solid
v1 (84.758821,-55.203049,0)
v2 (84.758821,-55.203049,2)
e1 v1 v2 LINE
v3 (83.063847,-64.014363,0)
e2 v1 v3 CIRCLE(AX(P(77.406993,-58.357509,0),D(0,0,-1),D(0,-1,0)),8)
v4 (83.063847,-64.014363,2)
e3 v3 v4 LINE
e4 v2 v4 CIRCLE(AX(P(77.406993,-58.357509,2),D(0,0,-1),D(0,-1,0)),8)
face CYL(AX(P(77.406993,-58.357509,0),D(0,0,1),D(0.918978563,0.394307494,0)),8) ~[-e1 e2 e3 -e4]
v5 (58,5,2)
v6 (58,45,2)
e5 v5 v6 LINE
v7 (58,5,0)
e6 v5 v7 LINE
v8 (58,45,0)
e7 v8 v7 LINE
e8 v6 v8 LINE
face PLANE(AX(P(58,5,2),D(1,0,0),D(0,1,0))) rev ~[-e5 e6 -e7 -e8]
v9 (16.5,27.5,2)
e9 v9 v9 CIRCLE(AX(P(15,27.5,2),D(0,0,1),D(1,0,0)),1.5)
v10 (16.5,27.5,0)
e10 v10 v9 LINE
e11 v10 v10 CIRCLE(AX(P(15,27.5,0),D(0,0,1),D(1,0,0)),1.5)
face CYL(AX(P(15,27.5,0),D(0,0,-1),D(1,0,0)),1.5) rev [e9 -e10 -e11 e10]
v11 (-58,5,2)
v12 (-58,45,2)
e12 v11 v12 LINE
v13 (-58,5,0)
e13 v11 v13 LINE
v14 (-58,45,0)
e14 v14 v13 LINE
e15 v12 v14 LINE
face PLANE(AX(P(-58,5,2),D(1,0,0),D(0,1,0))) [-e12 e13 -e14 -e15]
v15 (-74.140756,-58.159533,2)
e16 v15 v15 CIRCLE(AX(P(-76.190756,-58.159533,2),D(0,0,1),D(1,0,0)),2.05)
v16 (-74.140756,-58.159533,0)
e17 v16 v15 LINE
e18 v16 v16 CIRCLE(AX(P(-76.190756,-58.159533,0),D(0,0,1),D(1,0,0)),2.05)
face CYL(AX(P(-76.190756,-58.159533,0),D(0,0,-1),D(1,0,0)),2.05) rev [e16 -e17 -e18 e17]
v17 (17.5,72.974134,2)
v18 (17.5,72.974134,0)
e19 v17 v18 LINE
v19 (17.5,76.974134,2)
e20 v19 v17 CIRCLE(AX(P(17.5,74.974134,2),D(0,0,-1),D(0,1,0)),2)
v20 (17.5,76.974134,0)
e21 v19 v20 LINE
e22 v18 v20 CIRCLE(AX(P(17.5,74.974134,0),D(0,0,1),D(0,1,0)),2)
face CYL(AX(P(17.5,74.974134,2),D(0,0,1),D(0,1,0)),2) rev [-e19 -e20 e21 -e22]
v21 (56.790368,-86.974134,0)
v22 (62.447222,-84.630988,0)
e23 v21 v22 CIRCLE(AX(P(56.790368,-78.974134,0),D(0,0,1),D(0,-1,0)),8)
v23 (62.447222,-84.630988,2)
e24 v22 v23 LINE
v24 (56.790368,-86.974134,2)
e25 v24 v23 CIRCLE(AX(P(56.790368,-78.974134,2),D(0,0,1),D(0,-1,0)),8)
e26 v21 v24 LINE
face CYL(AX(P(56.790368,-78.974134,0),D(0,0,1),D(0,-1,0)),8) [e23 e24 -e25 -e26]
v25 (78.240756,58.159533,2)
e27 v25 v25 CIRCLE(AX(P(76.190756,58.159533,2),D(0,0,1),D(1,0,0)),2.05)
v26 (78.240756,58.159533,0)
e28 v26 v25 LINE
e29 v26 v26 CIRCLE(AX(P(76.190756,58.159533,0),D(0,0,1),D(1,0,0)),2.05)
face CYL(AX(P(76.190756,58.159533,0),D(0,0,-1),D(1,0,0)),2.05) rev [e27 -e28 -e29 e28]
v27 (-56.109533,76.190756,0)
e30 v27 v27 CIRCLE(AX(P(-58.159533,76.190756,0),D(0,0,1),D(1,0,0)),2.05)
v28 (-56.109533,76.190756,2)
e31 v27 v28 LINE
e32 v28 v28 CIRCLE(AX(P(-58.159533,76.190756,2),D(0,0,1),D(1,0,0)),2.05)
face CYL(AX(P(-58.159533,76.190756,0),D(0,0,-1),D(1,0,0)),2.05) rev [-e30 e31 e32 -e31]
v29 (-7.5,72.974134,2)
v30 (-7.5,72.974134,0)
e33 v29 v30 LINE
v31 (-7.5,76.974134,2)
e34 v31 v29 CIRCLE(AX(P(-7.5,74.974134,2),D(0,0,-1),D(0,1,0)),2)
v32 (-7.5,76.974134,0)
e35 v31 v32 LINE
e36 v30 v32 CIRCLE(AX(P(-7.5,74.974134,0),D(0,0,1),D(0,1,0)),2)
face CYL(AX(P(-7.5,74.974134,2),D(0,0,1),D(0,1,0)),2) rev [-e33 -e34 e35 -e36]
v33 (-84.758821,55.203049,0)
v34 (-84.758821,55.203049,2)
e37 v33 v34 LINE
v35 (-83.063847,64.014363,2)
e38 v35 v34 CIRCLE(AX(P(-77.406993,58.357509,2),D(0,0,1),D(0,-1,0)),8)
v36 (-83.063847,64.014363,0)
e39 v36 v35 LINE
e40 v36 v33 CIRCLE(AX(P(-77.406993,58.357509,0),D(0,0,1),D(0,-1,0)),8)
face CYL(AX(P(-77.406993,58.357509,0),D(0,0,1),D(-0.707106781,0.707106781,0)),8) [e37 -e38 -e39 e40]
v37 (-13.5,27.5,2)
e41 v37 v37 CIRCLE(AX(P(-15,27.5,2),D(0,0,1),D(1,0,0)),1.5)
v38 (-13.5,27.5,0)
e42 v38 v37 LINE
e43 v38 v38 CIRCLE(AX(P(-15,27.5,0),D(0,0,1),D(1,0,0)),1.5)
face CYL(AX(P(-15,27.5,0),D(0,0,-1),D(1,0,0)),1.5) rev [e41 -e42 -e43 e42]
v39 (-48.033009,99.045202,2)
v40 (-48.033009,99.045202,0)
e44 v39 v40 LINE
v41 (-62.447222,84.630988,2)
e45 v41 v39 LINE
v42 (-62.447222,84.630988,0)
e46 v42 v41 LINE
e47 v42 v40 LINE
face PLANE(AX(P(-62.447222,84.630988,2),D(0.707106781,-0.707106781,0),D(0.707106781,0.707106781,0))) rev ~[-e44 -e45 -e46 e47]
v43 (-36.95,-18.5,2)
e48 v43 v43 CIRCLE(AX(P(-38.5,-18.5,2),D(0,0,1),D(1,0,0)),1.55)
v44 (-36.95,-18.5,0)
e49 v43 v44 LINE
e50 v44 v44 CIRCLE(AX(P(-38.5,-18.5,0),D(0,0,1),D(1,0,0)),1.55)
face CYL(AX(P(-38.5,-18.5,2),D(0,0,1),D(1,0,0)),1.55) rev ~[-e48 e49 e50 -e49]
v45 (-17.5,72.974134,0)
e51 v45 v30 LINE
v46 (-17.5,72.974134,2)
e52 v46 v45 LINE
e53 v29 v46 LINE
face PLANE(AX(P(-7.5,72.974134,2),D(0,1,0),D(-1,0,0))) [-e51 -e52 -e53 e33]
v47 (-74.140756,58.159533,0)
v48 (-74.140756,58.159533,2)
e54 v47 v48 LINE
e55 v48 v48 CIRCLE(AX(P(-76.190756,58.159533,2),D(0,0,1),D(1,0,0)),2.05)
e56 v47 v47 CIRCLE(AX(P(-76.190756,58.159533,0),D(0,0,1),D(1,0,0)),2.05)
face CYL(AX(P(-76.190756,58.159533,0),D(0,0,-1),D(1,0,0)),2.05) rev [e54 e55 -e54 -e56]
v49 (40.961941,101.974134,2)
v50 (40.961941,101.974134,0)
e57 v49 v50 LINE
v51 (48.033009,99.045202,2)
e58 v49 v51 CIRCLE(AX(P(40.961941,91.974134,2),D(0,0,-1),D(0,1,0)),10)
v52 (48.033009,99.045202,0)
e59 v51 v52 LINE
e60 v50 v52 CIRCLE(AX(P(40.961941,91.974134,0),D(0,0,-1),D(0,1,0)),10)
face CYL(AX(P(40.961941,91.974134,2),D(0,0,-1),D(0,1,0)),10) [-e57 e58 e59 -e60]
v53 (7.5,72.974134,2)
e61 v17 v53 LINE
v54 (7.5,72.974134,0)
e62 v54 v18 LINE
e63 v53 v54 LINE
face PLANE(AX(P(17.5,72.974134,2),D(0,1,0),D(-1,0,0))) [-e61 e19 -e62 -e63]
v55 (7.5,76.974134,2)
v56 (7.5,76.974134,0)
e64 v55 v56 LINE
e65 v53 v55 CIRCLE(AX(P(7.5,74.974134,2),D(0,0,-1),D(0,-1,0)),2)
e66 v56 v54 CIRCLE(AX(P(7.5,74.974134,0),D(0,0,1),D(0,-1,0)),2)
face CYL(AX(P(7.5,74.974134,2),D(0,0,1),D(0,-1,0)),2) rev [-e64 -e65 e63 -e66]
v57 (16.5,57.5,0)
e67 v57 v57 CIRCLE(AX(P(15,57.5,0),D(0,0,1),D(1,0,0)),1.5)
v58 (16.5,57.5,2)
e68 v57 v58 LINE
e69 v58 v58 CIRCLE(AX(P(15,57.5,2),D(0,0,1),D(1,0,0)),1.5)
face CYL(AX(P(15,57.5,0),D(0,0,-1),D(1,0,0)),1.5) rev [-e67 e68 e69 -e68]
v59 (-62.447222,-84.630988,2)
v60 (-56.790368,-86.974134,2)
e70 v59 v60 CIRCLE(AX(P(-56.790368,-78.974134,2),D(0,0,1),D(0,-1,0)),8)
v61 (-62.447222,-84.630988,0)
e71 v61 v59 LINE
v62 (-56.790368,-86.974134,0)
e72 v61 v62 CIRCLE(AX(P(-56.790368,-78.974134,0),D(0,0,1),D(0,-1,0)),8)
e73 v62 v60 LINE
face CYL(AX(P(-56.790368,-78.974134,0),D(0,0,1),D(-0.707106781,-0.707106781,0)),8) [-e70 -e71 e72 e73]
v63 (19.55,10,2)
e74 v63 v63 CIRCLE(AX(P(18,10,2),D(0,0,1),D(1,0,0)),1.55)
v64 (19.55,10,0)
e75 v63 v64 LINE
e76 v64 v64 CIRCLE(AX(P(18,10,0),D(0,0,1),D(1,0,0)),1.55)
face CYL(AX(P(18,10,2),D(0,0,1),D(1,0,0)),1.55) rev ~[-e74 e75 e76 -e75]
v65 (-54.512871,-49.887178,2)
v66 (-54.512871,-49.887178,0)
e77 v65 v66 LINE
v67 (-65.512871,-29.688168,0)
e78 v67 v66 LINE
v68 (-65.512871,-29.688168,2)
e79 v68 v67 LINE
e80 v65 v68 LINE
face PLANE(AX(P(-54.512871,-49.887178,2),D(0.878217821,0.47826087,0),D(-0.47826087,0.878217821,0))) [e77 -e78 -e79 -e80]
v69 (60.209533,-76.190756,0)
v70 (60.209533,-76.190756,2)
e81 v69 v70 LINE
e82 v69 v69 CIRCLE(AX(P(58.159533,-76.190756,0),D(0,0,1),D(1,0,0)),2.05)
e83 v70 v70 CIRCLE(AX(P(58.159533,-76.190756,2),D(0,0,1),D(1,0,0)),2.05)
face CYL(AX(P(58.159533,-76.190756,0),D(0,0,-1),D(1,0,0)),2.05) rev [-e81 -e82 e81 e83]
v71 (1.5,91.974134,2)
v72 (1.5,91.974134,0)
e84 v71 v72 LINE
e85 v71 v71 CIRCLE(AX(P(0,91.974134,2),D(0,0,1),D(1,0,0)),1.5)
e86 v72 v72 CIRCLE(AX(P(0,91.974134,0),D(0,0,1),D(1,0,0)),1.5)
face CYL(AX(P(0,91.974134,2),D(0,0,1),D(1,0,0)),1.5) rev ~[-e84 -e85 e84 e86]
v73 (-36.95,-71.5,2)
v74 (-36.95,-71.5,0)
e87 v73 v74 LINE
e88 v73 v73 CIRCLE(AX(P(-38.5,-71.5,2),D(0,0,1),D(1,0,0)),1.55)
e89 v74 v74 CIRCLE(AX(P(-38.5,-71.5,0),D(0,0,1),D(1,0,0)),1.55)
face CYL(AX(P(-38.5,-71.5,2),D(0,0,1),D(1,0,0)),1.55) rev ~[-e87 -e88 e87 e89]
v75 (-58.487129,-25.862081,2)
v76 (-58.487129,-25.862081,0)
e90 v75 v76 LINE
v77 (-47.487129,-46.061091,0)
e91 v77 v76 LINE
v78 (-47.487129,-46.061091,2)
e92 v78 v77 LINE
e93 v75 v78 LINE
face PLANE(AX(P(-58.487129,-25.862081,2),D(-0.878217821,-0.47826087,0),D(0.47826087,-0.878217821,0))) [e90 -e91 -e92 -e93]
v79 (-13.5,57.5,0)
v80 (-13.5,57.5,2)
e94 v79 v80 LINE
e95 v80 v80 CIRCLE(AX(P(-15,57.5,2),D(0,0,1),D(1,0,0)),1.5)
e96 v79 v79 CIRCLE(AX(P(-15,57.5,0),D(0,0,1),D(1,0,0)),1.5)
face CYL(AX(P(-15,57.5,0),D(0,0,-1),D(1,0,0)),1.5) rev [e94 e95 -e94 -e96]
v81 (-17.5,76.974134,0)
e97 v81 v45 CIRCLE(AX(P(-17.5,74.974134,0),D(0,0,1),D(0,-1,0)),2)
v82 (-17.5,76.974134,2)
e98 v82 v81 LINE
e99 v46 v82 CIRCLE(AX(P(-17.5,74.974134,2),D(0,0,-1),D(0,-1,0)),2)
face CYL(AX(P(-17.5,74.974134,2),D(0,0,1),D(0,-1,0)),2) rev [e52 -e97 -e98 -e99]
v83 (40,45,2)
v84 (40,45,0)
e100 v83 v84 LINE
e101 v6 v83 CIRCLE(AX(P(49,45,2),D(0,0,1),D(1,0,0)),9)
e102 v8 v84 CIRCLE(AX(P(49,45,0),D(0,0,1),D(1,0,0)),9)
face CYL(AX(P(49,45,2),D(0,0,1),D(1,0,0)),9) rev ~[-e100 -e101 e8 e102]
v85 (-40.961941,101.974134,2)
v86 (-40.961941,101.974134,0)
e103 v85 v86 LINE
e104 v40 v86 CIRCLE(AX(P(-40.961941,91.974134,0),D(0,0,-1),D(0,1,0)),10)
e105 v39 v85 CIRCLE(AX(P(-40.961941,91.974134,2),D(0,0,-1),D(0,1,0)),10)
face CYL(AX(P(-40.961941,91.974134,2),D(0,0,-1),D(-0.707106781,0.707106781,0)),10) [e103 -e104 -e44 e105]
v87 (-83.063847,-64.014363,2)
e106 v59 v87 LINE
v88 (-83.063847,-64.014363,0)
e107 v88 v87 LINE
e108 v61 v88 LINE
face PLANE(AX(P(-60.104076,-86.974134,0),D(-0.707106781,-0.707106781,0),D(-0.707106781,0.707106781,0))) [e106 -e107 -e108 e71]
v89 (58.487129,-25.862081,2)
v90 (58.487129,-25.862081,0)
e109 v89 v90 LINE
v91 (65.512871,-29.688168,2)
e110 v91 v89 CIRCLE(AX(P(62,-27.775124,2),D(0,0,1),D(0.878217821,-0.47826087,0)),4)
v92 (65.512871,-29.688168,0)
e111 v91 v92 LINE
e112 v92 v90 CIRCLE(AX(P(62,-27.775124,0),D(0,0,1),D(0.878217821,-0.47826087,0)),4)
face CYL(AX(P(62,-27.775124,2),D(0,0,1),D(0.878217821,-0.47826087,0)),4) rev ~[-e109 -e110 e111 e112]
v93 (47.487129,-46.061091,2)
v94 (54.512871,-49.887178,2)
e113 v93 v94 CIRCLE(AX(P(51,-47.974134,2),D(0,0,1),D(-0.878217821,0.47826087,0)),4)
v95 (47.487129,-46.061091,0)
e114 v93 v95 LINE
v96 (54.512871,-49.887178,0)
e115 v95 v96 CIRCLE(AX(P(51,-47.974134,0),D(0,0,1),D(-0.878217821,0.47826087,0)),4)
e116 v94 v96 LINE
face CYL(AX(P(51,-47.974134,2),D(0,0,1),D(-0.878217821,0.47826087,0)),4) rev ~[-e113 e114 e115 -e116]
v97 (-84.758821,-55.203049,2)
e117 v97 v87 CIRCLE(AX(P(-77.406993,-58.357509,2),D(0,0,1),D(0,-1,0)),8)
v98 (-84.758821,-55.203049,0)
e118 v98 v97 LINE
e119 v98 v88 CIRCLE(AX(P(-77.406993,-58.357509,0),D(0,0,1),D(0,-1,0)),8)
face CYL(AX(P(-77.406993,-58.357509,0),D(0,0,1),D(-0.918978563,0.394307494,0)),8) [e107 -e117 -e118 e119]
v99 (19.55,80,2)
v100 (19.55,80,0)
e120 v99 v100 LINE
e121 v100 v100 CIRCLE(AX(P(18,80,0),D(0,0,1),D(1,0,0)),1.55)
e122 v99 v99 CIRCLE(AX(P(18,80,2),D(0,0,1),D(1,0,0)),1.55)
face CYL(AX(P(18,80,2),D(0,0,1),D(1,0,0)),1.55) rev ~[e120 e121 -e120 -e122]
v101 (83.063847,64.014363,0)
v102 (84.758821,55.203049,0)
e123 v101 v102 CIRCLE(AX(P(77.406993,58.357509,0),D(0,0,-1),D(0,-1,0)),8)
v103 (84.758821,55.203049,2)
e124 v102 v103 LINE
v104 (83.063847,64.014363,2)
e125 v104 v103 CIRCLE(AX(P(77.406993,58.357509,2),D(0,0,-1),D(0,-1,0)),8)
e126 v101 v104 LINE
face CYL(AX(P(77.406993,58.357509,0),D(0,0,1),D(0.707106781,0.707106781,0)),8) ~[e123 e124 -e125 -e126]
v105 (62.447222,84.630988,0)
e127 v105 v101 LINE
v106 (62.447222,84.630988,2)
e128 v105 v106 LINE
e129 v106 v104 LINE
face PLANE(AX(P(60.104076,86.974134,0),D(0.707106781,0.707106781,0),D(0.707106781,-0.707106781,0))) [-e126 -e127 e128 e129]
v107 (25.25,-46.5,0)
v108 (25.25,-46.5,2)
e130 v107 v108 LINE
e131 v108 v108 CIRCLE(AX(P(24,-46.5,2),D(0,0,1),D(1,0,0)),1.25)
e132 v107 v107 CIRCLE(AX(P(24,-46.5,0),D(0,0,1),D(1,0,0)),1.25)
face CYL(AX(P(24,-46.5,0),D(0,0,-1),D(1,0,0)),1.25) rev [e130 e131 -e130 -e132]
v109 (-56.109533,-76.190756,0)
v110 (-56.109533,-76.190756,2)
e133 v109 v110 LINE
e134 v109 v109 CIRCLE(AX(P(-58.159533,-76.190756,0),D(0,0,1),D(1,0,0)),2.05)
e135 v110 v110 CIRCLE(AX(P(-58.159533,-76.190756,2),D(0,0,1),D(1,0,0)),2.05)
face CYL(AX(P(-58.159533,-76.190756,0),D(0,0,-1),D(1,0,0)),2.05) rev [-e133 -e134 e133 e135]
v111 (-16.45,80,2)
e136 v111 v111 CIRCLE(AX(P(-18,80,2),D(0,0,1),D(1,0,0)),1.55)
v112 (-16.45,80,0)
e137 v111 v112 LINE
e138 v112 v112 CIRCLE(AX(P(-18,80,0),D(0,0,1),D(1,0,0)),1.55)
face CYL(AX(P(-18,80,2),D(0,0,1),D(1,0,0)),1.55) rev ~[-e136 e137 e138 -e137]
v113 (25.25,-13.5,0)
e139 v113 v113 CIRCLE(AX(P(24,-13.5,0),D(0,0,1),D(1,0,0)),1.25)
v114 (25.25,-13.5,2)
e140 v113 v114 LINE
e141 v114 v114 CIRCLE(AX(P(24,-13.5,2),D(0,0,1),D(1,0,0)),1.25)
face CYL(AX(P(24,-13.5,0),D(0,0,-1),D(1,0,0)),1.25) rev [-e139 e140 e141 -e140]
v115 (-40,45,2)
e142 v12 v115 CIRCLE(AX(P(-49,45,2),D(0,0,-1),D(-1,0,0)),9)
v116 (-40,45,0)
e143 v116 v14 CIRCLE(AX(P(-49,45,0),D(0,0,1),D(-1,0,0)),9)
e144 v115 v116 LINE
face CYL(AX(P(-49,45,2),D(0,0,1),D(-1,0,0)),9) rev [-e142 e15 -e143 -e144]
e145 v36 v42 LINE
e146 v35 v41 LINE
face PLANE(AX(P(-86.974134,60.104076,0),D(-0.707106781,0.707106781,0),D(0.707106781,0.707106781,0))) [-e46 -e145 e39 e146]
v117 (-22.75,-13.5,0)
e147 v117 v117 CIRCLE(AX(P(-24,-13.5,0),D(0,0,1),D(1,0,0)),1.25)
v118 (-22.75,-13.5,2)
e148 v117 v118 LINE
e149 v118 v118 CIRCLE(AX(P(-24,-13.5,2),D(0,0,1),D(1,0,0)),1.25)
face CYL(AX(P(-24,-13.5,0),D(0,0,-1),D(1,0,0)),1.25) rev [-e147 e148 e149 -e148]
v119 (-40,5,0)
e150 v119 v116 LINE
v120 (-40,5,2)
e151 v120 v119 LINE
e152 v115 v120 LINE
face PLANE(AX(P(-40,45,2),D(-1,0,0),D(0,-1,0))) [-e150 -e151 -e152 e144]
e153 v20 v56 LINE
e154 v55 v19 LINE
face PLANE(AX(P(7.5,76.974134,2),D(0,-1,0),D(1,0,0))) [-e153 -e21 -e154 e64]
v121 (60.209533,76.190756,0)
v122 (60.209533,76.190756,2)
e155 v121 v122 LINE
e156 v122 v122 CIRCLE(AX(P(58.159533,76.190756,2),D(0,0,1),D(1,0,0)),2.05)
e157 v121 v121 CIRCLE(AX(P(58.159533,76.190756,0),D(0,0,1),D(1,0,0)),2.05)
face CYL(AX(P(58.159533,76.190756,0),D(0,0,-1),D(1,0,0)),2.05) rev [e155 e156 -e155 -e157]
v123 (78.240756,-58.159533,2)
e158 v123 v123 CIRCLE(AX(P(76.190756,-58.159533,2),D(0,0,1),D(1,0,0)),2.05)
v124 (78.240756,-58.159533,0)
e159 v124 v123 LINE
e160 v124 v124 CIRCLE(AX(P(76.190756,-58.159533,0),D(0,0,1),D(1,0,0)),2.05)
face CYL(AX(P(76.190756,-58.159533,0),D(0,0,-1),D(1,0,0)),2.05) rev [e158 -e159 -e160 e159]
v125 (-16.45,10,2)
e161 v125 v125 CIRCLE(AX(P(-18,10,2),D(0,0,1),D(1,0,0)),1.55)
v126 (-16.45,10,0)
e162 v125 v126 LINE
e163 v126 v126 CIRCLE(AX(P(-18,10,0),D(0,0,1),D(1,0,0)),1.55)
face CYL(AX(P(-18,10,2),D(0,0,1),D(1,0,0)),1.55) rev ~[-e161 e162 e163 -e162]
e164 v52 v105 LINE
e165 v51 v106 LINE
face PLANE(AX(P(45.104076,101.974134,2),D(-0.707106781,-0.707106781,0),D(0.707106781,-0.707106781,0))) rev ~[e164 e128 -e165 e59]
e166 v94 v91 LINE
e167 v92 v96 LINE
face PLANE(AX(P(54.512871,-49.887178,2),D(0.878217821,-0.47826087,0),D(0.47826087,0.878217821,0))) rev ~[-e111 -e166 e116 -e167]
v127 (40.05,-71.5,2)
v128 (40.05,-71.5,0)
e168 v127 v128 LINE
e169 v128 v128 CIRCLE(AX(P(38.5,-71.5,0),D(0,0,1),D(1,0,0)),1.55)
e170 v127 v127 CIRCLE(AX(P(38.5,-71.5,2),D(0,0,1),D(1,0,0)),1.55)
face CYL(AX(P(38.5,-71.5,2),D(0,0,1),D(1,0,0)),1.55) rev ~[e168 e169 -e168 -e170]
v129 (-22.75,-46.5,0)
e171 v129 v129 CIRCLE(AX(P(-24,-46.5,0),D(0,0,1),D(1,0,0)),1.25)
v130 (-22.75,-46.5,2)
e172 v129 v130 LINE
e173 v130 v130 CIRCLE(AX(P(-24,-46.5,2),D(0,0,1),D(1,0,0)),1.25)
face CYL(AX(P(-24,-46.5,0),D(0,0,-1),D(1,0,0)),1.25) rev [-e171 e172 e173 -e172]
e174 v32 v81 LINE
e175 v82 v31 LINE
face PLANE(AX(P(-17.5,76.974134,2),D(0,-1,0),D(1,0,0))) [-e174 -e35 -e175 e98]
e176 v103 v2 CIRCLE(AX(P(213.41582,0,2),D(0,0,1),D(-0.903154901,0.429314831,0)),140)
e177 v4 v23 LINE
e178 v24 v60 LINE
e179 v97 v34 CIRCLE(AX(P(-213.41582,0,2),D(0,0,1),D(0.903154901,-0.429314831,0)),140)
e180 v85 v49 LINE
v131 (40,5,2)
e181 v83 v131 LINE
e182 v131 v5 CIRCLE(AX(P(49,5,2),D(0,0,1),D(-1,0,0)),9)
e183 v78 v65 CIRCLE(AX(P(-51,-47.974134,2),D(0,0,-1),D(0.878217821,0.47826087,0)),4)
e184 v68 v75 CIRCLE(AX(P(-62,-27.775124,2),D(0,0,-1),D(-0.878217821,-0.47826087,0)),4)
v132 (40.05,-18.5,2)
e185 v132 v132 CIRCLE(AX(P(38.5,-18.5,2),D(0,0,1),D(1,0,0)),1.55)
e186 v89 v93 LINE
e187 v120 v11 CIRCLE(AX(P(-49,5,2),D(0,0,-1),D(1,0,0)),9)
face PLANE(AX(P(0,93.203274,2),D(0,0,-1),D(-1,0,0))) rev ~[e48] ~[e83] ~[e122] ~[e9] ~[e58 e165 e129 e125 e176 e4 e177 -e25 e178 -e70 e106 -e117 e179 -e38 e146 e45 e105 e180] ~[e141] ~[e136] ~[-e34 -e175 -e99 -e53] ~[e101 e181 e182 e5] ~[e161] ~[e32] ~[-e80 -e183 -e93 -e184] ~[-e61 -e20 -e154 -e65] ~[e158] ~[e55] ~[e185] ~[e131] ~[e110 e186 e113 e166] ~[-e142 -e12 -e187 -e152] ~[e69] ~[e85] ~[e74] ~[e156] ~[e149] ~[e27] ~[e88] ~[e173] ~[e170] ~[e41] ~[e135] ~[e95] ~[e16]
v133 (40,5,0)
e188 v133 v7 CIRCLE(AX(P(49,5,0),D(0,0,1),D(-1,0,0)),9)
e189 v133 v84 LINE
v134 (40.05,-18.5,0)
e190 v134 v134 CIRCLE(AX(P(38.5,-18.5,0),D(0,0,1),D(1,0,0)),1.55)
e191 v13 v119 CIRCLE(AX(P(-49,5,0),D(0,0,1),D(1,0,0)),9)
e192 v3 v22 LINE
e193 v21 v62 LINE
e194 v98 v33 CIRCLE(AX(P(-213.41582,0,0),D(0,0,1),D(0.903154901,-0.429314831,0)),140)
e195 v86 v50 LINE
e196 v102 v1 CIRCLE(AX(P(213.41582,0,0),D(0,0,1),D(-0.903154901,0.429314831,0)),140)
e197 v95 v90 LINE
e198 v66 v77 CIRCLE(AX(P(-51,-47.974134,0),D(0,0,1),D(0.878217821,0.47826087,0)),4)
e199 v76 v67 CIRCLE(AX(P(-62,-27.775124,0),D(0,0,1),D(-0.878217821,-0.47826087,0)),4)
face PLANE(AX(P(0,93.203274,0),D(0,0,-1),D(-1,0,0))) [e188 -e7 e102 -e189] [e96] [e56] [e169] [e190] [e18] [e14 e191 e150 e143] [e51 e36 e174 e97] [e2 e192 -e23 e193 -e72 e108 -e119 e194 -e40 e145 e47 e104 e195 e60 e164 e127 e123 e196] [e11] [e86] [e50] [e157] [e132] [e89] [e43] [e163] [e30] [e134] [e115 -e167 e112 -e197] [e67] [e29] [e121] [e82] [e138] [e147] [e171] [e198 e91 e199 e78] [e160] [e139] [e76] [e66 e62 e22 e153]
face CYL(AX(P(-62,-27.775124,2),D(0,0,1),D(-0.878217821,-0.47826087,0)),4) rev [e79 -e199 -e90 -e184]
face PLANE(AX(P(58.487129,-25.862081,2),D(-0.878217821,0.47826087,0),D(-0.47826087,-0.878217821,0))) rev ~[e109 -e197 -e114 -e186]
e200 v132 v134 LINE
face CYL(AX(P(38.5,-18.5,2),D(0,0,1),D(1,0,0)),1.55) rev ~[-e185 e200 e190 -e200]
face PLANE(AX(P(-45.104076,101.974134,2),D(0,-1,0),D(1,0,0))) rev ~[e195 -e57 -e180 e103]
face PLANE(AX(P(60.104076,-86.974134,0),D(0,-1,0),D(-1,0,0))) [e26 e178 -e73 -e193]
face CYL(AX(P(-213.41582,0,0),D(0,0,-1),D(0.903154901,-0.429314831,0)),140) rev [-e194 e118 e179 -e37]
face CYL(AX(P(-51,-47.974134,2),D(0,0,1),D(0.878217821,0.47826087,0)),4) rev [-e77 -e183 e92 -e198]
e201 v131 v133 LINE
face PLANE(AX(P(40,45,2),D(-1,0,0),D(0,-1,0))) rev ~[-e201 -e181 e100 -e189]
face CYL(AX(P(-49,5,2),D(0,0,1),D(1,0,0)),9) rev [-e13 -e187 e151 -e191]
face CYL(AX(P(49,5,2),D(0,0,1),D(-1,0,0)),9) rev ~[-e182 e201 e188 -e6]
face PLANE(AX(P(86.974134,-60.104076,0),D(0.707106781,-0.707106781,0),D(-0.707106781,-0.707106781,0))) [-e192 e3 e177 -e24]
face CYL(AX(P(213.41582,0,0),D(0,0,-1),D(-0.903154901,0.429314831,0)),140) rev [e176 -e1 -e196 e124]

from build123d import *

# Parameters (mm, degrees)
SKETCH1_R           = 1.5
SKETCH1_R_2         = 1.25
SKETCH1_R_3         = 2.05
BOSS_EXTRUDE1_DEPTH = 2
FILLET7_R           = 8
BOSS_EXTRUDE2_DEPTH = 2
FILLET8_R           = 10
SKETCH4_R           = 1.55
CUT_EXTRUDE1_DEPTH  = 2
SKETCH5_R           = 1.55
CUT_EXTRUDE2_DEPTH  = 2
CUT_EXTRUDE3_DEPTH  = 10
SKETCH7_R           = 1.5
CUT_EXTRUDE4_DEPTH  = 10


with BuildPart() as part:
    # Sketch1 → Boss-Extrude1 (new body)
    with BuildSketch(Plane.XY):
        with BuildLine():
            Line((-86.974134086, 60.104076401), (-60.104076401, 86.974134086))
            Line((-60.104076401, 86.974134086), (60.104076401, 86.974134086))
            Line((60.104076401, 86.974134086), (86.974134086, 60.104076401))
            ThreePointArc((86.974134086, 60.104076401), (73.41582025, 0), (86.974134086, -60.104076401))
            Line((86.974134086, -60.104076401), (60.104076401, -86.974134086))
            Line((60.104076401, -86.974134086), (-60.104076401, -86.974134086))
            Line((-60.104076401, -86.974134086), (-86.974134086, -60.104076401))
            ThreePointArc((-86.974134086, -60.104076401), (-73.41582025, 0), (-86.974134086, 60.104076401))
        make_face()
        with Locations((-15, 57.5)):
            Circle(SKETCH1_R, mode=Mode.SUBTRACT)
        with Locations((-15, 27.5)):
            Circle(SKETCH1_R, mode=Mode.SUBTRACT)
        with Locations((15, 27.5)):
            Circle(SKETCH1_R, mode=Mode.SUBTRACT)
        with Locations((15, 57.5)):
            Circle(SKETCH1_R, mode=Mode.SUBTRACT)
        with Locations((-24, -13.5)):
            Circle(SKETCH1_R_2, mode=Mode.SUBTRACT)
        with Locations((24, -13.5)):
            Circle(SKETCH1_R_2, mode=Mode.SUBTRACT)
        with Locations((24, -46.5)):
            Circle(SKETCH1_R_2, mode=Mode.SUBTRACT)
        with Locations((-24, -46.5)):
            Circle(SKETCH1_R_2, mode=Mode.SUBTRACT)
        with Locations((-76.190755673, 58.159532753)):
            Circle(SKETCH1_R_3, mode=Mode.SUBTRACT)
        with Locations((-58.159532753, 76.190755673)):
            Circle(SKETCH1_R_3, mode=Mode.SUBTRACT)
        with Locations((76.190755673, -58.159532753)):
            Circle(SKETCH1_R_3, mode=Mode.SUBTRACT)
        with Locations((58.159532753, -76.190755673)):
            Circle(SKETCH1_R_3, mode=Mode.SUBTRACT)
        with Locations((-58.159532753, -76.190755673)):
            Circle(SKETCH1_R_3, mode=Mode.SUBTRACT)
        with Locations((-76.190755673, -58.159532753)):
            Circle(SKETCH1_R_3, mode=Mode.SUBTRACT)
        with Locations((58.159532753, 76.190755673)):
            Circle(SKETCH1_R_3, mode=Mode.SUBTRACT)
        with Locations((76.190755673, 58.159532753)):
            Circle(SKETCH1_R_3, mode=Mode.SUBTRACT)
    extrude(amount=BOSS_EXTRUDE1_DEPTH)

    # Fillet7
    fillet7_edges = [part.edges().sort_by_distance(p)[0] for p in [
        (86.974134086, -60.104076401, 1),
        (60.104076401, -86.974134086, 1),
        (-60.104076401, -86.974134086, 1),
        (-86.974134086, -60.104076401, 1),
        (-86.974134086, 60.104076401, 1),
        (-60.104076401, 86.974134086, 1),
        (60.104076401, 86.974134086, 1),
        (86.974134086, 60.104076401, 1),
    ]]
    fillet(fillet7_edges, radius=FILLET7_R)

    # Sketch2 → Boss-Extrude2 (add)
    with BuildSketch(Plane.XY.offset(2)):
        with BuildLine():
            Line((-62.447222151, 84.630988335), (-45.104076401, 101.974134086))
            Line((-45.104076401, 101.974134086), (45.104076401, 101.974134086))
            Line((45.104076401, 101.974134086), (62.447222151, 84.630988335))
            ThreePointArc((62.447222151, 84.630988335), (59.851835361, 86.365170346), (56.790367902, 86.974134086))
            Line((56.790367902, 86.974134086), (-56.790367902, 86.974134086))
            ThreePointArc((-56.790367902, 86.974134086), (-59.851835361, 86.365170346), (-62.447222151, 84.630988335))
        make_face()
    extrude(amount=-BOSS_EXTRUDE2_DEPTH)

    # Fillet8
    fillet8_edges = [part.edges().sort_by_distance(p)[0] for p in [
        (-45.104076401, 101.974134086, 1),
        (45.104076401, 101.974134086, 1),
    ]]
    fillet(fillet8_edges, radius=FILLET8_R)

    # Sketch4 → Cut-Extrude1 (cut)
    with BuildSketch(Plane.XY.offset(2)):
        with Locations((-38.5, -18.5)):
            Circle(SKETCH4_R)
        with Locations((38.5, -18.5)):
            Circle(SKETCH4_R)
        with Locations((38.5, -71.5)):
            Circle(SKETCH4_R)
        with Locations((-38.5, -71.5)):
            Circle(SKETCH4_R)
    extrude(amount=-CUT_EXTRUDE1_DEPTH, mode=Mode.SUBTRACT)

    # Sketch5 → Cut-Extrude2 (cut)
    with BuildSketch(Plane.XY.offset(2)):
        with Locations((-18, 80)):
            Circle(SKETCH5_R)
        with Locations((18, 80)):
            Circle(SKETCH5_R)
        with Locations((18, 10)):
            Circle(SKETCH5_R)
        with Locations((-18, 10)):
            Circle(SKETCH5_R)
    extrude(amount=-CUT_EXTRUDE2_DEPTH, mode=Mode.SUBTRACT)

    # Sketch6 → Cut-Extrude3 (cut)
    with BuildSketch(Plane.XY.offset(2)):
        with BuildLine():
            Line((-40, 45), (-40, 5))
            ThreePointArc((-40, 5), (-49, -4), (-58, 5))
            Line((-58, 5), (-58, 45))
            ThreePointArc((-58, 45), (-49, 54), (-40, 45))
        make_face()
        with BuildLine():
            Line((40, 45), (40, 5))
            ThreePointArc((40, 5), (49, -4), (58, 5))
            Line((58, 5), (58, 45))
            ThreePointArc((58, 45), (49, 54), (40, 45))
        make_face()
        with BuildLine():
            Line((-58.487128717, -25.862080731), (-47.487128717, -46.061090608))
            ThreePointArc((-47.487128717, -46.061090608), (-49.086956522, -51.487005369), (-54.512871283, -49.887177564))
            Line((-54.512871283, -49.887177564), (-65.512871283, -29.688167687))
            ThreePointArc((-65.512871283, -29.688167687), (-63.913043478, -24.262252926), (-58.487128717, -25.862080731))
        make_face()
        with BuildLine():
            Line((58.487128717, -25.862080731), (47.487128717, -46.061090608))
            ThreePointArc((47.487128717, -46.061090608), (49.086956522, -51.487005369), (54.512871283, -49.887177564))
            Line((54.512871283, -49.887177564), (65.512871283, -29.688167687))
            ThreePointArc((65.512871283, -29.688167687), (63.913043478, -24.262252926), (58.487128717, -25.862080731))
        make_face()
    extrude(amount=-CUT_EXTRUDE3_DEPTH, mode=Mode.SUBTRACT)

    # Sketch7 → Cut-Extrude4 (cut)
    with BuildSketch(Plane.XY.offset(2)):
        with Locations((0, 91.974134086)):
            Circle(SKETCH7_R)
        with BuildLine():
            Line((-17.5, 76.974134086), (-7.5, 76.974134086))
            ThreePointArc((-7.5, 76.974134086), (-5.5, 74.974134086), (-7.5, 72.974134086))
            Line((-7.5, 72.974134086), (-17.5, 72.974134086))
            ThreePointArc((-17.5, 72.974134086), (-19.5, 74.974134086), (-17.5, 76.974134086))
        make_face()
        with BuildLine():
            Line((7.5, 76.974134086), (17.5, 76.974134086))
            ThreePointArc((17.5, 76.974134086), (19.5, 74.974134086), (17.5, 72.974134086))
            Line((17.5, 72.974134086), (7.5, 72.974134086))
            ThreePointArc((7.5, 72.974134086), (5.5, 74.974134086), (7.5, 76.974134086))
        make_face()
    extrude(amount=-CUT_EXTRUDE4_DEPTH, mode=Mode.SUBTRACT)


solid = part.part
